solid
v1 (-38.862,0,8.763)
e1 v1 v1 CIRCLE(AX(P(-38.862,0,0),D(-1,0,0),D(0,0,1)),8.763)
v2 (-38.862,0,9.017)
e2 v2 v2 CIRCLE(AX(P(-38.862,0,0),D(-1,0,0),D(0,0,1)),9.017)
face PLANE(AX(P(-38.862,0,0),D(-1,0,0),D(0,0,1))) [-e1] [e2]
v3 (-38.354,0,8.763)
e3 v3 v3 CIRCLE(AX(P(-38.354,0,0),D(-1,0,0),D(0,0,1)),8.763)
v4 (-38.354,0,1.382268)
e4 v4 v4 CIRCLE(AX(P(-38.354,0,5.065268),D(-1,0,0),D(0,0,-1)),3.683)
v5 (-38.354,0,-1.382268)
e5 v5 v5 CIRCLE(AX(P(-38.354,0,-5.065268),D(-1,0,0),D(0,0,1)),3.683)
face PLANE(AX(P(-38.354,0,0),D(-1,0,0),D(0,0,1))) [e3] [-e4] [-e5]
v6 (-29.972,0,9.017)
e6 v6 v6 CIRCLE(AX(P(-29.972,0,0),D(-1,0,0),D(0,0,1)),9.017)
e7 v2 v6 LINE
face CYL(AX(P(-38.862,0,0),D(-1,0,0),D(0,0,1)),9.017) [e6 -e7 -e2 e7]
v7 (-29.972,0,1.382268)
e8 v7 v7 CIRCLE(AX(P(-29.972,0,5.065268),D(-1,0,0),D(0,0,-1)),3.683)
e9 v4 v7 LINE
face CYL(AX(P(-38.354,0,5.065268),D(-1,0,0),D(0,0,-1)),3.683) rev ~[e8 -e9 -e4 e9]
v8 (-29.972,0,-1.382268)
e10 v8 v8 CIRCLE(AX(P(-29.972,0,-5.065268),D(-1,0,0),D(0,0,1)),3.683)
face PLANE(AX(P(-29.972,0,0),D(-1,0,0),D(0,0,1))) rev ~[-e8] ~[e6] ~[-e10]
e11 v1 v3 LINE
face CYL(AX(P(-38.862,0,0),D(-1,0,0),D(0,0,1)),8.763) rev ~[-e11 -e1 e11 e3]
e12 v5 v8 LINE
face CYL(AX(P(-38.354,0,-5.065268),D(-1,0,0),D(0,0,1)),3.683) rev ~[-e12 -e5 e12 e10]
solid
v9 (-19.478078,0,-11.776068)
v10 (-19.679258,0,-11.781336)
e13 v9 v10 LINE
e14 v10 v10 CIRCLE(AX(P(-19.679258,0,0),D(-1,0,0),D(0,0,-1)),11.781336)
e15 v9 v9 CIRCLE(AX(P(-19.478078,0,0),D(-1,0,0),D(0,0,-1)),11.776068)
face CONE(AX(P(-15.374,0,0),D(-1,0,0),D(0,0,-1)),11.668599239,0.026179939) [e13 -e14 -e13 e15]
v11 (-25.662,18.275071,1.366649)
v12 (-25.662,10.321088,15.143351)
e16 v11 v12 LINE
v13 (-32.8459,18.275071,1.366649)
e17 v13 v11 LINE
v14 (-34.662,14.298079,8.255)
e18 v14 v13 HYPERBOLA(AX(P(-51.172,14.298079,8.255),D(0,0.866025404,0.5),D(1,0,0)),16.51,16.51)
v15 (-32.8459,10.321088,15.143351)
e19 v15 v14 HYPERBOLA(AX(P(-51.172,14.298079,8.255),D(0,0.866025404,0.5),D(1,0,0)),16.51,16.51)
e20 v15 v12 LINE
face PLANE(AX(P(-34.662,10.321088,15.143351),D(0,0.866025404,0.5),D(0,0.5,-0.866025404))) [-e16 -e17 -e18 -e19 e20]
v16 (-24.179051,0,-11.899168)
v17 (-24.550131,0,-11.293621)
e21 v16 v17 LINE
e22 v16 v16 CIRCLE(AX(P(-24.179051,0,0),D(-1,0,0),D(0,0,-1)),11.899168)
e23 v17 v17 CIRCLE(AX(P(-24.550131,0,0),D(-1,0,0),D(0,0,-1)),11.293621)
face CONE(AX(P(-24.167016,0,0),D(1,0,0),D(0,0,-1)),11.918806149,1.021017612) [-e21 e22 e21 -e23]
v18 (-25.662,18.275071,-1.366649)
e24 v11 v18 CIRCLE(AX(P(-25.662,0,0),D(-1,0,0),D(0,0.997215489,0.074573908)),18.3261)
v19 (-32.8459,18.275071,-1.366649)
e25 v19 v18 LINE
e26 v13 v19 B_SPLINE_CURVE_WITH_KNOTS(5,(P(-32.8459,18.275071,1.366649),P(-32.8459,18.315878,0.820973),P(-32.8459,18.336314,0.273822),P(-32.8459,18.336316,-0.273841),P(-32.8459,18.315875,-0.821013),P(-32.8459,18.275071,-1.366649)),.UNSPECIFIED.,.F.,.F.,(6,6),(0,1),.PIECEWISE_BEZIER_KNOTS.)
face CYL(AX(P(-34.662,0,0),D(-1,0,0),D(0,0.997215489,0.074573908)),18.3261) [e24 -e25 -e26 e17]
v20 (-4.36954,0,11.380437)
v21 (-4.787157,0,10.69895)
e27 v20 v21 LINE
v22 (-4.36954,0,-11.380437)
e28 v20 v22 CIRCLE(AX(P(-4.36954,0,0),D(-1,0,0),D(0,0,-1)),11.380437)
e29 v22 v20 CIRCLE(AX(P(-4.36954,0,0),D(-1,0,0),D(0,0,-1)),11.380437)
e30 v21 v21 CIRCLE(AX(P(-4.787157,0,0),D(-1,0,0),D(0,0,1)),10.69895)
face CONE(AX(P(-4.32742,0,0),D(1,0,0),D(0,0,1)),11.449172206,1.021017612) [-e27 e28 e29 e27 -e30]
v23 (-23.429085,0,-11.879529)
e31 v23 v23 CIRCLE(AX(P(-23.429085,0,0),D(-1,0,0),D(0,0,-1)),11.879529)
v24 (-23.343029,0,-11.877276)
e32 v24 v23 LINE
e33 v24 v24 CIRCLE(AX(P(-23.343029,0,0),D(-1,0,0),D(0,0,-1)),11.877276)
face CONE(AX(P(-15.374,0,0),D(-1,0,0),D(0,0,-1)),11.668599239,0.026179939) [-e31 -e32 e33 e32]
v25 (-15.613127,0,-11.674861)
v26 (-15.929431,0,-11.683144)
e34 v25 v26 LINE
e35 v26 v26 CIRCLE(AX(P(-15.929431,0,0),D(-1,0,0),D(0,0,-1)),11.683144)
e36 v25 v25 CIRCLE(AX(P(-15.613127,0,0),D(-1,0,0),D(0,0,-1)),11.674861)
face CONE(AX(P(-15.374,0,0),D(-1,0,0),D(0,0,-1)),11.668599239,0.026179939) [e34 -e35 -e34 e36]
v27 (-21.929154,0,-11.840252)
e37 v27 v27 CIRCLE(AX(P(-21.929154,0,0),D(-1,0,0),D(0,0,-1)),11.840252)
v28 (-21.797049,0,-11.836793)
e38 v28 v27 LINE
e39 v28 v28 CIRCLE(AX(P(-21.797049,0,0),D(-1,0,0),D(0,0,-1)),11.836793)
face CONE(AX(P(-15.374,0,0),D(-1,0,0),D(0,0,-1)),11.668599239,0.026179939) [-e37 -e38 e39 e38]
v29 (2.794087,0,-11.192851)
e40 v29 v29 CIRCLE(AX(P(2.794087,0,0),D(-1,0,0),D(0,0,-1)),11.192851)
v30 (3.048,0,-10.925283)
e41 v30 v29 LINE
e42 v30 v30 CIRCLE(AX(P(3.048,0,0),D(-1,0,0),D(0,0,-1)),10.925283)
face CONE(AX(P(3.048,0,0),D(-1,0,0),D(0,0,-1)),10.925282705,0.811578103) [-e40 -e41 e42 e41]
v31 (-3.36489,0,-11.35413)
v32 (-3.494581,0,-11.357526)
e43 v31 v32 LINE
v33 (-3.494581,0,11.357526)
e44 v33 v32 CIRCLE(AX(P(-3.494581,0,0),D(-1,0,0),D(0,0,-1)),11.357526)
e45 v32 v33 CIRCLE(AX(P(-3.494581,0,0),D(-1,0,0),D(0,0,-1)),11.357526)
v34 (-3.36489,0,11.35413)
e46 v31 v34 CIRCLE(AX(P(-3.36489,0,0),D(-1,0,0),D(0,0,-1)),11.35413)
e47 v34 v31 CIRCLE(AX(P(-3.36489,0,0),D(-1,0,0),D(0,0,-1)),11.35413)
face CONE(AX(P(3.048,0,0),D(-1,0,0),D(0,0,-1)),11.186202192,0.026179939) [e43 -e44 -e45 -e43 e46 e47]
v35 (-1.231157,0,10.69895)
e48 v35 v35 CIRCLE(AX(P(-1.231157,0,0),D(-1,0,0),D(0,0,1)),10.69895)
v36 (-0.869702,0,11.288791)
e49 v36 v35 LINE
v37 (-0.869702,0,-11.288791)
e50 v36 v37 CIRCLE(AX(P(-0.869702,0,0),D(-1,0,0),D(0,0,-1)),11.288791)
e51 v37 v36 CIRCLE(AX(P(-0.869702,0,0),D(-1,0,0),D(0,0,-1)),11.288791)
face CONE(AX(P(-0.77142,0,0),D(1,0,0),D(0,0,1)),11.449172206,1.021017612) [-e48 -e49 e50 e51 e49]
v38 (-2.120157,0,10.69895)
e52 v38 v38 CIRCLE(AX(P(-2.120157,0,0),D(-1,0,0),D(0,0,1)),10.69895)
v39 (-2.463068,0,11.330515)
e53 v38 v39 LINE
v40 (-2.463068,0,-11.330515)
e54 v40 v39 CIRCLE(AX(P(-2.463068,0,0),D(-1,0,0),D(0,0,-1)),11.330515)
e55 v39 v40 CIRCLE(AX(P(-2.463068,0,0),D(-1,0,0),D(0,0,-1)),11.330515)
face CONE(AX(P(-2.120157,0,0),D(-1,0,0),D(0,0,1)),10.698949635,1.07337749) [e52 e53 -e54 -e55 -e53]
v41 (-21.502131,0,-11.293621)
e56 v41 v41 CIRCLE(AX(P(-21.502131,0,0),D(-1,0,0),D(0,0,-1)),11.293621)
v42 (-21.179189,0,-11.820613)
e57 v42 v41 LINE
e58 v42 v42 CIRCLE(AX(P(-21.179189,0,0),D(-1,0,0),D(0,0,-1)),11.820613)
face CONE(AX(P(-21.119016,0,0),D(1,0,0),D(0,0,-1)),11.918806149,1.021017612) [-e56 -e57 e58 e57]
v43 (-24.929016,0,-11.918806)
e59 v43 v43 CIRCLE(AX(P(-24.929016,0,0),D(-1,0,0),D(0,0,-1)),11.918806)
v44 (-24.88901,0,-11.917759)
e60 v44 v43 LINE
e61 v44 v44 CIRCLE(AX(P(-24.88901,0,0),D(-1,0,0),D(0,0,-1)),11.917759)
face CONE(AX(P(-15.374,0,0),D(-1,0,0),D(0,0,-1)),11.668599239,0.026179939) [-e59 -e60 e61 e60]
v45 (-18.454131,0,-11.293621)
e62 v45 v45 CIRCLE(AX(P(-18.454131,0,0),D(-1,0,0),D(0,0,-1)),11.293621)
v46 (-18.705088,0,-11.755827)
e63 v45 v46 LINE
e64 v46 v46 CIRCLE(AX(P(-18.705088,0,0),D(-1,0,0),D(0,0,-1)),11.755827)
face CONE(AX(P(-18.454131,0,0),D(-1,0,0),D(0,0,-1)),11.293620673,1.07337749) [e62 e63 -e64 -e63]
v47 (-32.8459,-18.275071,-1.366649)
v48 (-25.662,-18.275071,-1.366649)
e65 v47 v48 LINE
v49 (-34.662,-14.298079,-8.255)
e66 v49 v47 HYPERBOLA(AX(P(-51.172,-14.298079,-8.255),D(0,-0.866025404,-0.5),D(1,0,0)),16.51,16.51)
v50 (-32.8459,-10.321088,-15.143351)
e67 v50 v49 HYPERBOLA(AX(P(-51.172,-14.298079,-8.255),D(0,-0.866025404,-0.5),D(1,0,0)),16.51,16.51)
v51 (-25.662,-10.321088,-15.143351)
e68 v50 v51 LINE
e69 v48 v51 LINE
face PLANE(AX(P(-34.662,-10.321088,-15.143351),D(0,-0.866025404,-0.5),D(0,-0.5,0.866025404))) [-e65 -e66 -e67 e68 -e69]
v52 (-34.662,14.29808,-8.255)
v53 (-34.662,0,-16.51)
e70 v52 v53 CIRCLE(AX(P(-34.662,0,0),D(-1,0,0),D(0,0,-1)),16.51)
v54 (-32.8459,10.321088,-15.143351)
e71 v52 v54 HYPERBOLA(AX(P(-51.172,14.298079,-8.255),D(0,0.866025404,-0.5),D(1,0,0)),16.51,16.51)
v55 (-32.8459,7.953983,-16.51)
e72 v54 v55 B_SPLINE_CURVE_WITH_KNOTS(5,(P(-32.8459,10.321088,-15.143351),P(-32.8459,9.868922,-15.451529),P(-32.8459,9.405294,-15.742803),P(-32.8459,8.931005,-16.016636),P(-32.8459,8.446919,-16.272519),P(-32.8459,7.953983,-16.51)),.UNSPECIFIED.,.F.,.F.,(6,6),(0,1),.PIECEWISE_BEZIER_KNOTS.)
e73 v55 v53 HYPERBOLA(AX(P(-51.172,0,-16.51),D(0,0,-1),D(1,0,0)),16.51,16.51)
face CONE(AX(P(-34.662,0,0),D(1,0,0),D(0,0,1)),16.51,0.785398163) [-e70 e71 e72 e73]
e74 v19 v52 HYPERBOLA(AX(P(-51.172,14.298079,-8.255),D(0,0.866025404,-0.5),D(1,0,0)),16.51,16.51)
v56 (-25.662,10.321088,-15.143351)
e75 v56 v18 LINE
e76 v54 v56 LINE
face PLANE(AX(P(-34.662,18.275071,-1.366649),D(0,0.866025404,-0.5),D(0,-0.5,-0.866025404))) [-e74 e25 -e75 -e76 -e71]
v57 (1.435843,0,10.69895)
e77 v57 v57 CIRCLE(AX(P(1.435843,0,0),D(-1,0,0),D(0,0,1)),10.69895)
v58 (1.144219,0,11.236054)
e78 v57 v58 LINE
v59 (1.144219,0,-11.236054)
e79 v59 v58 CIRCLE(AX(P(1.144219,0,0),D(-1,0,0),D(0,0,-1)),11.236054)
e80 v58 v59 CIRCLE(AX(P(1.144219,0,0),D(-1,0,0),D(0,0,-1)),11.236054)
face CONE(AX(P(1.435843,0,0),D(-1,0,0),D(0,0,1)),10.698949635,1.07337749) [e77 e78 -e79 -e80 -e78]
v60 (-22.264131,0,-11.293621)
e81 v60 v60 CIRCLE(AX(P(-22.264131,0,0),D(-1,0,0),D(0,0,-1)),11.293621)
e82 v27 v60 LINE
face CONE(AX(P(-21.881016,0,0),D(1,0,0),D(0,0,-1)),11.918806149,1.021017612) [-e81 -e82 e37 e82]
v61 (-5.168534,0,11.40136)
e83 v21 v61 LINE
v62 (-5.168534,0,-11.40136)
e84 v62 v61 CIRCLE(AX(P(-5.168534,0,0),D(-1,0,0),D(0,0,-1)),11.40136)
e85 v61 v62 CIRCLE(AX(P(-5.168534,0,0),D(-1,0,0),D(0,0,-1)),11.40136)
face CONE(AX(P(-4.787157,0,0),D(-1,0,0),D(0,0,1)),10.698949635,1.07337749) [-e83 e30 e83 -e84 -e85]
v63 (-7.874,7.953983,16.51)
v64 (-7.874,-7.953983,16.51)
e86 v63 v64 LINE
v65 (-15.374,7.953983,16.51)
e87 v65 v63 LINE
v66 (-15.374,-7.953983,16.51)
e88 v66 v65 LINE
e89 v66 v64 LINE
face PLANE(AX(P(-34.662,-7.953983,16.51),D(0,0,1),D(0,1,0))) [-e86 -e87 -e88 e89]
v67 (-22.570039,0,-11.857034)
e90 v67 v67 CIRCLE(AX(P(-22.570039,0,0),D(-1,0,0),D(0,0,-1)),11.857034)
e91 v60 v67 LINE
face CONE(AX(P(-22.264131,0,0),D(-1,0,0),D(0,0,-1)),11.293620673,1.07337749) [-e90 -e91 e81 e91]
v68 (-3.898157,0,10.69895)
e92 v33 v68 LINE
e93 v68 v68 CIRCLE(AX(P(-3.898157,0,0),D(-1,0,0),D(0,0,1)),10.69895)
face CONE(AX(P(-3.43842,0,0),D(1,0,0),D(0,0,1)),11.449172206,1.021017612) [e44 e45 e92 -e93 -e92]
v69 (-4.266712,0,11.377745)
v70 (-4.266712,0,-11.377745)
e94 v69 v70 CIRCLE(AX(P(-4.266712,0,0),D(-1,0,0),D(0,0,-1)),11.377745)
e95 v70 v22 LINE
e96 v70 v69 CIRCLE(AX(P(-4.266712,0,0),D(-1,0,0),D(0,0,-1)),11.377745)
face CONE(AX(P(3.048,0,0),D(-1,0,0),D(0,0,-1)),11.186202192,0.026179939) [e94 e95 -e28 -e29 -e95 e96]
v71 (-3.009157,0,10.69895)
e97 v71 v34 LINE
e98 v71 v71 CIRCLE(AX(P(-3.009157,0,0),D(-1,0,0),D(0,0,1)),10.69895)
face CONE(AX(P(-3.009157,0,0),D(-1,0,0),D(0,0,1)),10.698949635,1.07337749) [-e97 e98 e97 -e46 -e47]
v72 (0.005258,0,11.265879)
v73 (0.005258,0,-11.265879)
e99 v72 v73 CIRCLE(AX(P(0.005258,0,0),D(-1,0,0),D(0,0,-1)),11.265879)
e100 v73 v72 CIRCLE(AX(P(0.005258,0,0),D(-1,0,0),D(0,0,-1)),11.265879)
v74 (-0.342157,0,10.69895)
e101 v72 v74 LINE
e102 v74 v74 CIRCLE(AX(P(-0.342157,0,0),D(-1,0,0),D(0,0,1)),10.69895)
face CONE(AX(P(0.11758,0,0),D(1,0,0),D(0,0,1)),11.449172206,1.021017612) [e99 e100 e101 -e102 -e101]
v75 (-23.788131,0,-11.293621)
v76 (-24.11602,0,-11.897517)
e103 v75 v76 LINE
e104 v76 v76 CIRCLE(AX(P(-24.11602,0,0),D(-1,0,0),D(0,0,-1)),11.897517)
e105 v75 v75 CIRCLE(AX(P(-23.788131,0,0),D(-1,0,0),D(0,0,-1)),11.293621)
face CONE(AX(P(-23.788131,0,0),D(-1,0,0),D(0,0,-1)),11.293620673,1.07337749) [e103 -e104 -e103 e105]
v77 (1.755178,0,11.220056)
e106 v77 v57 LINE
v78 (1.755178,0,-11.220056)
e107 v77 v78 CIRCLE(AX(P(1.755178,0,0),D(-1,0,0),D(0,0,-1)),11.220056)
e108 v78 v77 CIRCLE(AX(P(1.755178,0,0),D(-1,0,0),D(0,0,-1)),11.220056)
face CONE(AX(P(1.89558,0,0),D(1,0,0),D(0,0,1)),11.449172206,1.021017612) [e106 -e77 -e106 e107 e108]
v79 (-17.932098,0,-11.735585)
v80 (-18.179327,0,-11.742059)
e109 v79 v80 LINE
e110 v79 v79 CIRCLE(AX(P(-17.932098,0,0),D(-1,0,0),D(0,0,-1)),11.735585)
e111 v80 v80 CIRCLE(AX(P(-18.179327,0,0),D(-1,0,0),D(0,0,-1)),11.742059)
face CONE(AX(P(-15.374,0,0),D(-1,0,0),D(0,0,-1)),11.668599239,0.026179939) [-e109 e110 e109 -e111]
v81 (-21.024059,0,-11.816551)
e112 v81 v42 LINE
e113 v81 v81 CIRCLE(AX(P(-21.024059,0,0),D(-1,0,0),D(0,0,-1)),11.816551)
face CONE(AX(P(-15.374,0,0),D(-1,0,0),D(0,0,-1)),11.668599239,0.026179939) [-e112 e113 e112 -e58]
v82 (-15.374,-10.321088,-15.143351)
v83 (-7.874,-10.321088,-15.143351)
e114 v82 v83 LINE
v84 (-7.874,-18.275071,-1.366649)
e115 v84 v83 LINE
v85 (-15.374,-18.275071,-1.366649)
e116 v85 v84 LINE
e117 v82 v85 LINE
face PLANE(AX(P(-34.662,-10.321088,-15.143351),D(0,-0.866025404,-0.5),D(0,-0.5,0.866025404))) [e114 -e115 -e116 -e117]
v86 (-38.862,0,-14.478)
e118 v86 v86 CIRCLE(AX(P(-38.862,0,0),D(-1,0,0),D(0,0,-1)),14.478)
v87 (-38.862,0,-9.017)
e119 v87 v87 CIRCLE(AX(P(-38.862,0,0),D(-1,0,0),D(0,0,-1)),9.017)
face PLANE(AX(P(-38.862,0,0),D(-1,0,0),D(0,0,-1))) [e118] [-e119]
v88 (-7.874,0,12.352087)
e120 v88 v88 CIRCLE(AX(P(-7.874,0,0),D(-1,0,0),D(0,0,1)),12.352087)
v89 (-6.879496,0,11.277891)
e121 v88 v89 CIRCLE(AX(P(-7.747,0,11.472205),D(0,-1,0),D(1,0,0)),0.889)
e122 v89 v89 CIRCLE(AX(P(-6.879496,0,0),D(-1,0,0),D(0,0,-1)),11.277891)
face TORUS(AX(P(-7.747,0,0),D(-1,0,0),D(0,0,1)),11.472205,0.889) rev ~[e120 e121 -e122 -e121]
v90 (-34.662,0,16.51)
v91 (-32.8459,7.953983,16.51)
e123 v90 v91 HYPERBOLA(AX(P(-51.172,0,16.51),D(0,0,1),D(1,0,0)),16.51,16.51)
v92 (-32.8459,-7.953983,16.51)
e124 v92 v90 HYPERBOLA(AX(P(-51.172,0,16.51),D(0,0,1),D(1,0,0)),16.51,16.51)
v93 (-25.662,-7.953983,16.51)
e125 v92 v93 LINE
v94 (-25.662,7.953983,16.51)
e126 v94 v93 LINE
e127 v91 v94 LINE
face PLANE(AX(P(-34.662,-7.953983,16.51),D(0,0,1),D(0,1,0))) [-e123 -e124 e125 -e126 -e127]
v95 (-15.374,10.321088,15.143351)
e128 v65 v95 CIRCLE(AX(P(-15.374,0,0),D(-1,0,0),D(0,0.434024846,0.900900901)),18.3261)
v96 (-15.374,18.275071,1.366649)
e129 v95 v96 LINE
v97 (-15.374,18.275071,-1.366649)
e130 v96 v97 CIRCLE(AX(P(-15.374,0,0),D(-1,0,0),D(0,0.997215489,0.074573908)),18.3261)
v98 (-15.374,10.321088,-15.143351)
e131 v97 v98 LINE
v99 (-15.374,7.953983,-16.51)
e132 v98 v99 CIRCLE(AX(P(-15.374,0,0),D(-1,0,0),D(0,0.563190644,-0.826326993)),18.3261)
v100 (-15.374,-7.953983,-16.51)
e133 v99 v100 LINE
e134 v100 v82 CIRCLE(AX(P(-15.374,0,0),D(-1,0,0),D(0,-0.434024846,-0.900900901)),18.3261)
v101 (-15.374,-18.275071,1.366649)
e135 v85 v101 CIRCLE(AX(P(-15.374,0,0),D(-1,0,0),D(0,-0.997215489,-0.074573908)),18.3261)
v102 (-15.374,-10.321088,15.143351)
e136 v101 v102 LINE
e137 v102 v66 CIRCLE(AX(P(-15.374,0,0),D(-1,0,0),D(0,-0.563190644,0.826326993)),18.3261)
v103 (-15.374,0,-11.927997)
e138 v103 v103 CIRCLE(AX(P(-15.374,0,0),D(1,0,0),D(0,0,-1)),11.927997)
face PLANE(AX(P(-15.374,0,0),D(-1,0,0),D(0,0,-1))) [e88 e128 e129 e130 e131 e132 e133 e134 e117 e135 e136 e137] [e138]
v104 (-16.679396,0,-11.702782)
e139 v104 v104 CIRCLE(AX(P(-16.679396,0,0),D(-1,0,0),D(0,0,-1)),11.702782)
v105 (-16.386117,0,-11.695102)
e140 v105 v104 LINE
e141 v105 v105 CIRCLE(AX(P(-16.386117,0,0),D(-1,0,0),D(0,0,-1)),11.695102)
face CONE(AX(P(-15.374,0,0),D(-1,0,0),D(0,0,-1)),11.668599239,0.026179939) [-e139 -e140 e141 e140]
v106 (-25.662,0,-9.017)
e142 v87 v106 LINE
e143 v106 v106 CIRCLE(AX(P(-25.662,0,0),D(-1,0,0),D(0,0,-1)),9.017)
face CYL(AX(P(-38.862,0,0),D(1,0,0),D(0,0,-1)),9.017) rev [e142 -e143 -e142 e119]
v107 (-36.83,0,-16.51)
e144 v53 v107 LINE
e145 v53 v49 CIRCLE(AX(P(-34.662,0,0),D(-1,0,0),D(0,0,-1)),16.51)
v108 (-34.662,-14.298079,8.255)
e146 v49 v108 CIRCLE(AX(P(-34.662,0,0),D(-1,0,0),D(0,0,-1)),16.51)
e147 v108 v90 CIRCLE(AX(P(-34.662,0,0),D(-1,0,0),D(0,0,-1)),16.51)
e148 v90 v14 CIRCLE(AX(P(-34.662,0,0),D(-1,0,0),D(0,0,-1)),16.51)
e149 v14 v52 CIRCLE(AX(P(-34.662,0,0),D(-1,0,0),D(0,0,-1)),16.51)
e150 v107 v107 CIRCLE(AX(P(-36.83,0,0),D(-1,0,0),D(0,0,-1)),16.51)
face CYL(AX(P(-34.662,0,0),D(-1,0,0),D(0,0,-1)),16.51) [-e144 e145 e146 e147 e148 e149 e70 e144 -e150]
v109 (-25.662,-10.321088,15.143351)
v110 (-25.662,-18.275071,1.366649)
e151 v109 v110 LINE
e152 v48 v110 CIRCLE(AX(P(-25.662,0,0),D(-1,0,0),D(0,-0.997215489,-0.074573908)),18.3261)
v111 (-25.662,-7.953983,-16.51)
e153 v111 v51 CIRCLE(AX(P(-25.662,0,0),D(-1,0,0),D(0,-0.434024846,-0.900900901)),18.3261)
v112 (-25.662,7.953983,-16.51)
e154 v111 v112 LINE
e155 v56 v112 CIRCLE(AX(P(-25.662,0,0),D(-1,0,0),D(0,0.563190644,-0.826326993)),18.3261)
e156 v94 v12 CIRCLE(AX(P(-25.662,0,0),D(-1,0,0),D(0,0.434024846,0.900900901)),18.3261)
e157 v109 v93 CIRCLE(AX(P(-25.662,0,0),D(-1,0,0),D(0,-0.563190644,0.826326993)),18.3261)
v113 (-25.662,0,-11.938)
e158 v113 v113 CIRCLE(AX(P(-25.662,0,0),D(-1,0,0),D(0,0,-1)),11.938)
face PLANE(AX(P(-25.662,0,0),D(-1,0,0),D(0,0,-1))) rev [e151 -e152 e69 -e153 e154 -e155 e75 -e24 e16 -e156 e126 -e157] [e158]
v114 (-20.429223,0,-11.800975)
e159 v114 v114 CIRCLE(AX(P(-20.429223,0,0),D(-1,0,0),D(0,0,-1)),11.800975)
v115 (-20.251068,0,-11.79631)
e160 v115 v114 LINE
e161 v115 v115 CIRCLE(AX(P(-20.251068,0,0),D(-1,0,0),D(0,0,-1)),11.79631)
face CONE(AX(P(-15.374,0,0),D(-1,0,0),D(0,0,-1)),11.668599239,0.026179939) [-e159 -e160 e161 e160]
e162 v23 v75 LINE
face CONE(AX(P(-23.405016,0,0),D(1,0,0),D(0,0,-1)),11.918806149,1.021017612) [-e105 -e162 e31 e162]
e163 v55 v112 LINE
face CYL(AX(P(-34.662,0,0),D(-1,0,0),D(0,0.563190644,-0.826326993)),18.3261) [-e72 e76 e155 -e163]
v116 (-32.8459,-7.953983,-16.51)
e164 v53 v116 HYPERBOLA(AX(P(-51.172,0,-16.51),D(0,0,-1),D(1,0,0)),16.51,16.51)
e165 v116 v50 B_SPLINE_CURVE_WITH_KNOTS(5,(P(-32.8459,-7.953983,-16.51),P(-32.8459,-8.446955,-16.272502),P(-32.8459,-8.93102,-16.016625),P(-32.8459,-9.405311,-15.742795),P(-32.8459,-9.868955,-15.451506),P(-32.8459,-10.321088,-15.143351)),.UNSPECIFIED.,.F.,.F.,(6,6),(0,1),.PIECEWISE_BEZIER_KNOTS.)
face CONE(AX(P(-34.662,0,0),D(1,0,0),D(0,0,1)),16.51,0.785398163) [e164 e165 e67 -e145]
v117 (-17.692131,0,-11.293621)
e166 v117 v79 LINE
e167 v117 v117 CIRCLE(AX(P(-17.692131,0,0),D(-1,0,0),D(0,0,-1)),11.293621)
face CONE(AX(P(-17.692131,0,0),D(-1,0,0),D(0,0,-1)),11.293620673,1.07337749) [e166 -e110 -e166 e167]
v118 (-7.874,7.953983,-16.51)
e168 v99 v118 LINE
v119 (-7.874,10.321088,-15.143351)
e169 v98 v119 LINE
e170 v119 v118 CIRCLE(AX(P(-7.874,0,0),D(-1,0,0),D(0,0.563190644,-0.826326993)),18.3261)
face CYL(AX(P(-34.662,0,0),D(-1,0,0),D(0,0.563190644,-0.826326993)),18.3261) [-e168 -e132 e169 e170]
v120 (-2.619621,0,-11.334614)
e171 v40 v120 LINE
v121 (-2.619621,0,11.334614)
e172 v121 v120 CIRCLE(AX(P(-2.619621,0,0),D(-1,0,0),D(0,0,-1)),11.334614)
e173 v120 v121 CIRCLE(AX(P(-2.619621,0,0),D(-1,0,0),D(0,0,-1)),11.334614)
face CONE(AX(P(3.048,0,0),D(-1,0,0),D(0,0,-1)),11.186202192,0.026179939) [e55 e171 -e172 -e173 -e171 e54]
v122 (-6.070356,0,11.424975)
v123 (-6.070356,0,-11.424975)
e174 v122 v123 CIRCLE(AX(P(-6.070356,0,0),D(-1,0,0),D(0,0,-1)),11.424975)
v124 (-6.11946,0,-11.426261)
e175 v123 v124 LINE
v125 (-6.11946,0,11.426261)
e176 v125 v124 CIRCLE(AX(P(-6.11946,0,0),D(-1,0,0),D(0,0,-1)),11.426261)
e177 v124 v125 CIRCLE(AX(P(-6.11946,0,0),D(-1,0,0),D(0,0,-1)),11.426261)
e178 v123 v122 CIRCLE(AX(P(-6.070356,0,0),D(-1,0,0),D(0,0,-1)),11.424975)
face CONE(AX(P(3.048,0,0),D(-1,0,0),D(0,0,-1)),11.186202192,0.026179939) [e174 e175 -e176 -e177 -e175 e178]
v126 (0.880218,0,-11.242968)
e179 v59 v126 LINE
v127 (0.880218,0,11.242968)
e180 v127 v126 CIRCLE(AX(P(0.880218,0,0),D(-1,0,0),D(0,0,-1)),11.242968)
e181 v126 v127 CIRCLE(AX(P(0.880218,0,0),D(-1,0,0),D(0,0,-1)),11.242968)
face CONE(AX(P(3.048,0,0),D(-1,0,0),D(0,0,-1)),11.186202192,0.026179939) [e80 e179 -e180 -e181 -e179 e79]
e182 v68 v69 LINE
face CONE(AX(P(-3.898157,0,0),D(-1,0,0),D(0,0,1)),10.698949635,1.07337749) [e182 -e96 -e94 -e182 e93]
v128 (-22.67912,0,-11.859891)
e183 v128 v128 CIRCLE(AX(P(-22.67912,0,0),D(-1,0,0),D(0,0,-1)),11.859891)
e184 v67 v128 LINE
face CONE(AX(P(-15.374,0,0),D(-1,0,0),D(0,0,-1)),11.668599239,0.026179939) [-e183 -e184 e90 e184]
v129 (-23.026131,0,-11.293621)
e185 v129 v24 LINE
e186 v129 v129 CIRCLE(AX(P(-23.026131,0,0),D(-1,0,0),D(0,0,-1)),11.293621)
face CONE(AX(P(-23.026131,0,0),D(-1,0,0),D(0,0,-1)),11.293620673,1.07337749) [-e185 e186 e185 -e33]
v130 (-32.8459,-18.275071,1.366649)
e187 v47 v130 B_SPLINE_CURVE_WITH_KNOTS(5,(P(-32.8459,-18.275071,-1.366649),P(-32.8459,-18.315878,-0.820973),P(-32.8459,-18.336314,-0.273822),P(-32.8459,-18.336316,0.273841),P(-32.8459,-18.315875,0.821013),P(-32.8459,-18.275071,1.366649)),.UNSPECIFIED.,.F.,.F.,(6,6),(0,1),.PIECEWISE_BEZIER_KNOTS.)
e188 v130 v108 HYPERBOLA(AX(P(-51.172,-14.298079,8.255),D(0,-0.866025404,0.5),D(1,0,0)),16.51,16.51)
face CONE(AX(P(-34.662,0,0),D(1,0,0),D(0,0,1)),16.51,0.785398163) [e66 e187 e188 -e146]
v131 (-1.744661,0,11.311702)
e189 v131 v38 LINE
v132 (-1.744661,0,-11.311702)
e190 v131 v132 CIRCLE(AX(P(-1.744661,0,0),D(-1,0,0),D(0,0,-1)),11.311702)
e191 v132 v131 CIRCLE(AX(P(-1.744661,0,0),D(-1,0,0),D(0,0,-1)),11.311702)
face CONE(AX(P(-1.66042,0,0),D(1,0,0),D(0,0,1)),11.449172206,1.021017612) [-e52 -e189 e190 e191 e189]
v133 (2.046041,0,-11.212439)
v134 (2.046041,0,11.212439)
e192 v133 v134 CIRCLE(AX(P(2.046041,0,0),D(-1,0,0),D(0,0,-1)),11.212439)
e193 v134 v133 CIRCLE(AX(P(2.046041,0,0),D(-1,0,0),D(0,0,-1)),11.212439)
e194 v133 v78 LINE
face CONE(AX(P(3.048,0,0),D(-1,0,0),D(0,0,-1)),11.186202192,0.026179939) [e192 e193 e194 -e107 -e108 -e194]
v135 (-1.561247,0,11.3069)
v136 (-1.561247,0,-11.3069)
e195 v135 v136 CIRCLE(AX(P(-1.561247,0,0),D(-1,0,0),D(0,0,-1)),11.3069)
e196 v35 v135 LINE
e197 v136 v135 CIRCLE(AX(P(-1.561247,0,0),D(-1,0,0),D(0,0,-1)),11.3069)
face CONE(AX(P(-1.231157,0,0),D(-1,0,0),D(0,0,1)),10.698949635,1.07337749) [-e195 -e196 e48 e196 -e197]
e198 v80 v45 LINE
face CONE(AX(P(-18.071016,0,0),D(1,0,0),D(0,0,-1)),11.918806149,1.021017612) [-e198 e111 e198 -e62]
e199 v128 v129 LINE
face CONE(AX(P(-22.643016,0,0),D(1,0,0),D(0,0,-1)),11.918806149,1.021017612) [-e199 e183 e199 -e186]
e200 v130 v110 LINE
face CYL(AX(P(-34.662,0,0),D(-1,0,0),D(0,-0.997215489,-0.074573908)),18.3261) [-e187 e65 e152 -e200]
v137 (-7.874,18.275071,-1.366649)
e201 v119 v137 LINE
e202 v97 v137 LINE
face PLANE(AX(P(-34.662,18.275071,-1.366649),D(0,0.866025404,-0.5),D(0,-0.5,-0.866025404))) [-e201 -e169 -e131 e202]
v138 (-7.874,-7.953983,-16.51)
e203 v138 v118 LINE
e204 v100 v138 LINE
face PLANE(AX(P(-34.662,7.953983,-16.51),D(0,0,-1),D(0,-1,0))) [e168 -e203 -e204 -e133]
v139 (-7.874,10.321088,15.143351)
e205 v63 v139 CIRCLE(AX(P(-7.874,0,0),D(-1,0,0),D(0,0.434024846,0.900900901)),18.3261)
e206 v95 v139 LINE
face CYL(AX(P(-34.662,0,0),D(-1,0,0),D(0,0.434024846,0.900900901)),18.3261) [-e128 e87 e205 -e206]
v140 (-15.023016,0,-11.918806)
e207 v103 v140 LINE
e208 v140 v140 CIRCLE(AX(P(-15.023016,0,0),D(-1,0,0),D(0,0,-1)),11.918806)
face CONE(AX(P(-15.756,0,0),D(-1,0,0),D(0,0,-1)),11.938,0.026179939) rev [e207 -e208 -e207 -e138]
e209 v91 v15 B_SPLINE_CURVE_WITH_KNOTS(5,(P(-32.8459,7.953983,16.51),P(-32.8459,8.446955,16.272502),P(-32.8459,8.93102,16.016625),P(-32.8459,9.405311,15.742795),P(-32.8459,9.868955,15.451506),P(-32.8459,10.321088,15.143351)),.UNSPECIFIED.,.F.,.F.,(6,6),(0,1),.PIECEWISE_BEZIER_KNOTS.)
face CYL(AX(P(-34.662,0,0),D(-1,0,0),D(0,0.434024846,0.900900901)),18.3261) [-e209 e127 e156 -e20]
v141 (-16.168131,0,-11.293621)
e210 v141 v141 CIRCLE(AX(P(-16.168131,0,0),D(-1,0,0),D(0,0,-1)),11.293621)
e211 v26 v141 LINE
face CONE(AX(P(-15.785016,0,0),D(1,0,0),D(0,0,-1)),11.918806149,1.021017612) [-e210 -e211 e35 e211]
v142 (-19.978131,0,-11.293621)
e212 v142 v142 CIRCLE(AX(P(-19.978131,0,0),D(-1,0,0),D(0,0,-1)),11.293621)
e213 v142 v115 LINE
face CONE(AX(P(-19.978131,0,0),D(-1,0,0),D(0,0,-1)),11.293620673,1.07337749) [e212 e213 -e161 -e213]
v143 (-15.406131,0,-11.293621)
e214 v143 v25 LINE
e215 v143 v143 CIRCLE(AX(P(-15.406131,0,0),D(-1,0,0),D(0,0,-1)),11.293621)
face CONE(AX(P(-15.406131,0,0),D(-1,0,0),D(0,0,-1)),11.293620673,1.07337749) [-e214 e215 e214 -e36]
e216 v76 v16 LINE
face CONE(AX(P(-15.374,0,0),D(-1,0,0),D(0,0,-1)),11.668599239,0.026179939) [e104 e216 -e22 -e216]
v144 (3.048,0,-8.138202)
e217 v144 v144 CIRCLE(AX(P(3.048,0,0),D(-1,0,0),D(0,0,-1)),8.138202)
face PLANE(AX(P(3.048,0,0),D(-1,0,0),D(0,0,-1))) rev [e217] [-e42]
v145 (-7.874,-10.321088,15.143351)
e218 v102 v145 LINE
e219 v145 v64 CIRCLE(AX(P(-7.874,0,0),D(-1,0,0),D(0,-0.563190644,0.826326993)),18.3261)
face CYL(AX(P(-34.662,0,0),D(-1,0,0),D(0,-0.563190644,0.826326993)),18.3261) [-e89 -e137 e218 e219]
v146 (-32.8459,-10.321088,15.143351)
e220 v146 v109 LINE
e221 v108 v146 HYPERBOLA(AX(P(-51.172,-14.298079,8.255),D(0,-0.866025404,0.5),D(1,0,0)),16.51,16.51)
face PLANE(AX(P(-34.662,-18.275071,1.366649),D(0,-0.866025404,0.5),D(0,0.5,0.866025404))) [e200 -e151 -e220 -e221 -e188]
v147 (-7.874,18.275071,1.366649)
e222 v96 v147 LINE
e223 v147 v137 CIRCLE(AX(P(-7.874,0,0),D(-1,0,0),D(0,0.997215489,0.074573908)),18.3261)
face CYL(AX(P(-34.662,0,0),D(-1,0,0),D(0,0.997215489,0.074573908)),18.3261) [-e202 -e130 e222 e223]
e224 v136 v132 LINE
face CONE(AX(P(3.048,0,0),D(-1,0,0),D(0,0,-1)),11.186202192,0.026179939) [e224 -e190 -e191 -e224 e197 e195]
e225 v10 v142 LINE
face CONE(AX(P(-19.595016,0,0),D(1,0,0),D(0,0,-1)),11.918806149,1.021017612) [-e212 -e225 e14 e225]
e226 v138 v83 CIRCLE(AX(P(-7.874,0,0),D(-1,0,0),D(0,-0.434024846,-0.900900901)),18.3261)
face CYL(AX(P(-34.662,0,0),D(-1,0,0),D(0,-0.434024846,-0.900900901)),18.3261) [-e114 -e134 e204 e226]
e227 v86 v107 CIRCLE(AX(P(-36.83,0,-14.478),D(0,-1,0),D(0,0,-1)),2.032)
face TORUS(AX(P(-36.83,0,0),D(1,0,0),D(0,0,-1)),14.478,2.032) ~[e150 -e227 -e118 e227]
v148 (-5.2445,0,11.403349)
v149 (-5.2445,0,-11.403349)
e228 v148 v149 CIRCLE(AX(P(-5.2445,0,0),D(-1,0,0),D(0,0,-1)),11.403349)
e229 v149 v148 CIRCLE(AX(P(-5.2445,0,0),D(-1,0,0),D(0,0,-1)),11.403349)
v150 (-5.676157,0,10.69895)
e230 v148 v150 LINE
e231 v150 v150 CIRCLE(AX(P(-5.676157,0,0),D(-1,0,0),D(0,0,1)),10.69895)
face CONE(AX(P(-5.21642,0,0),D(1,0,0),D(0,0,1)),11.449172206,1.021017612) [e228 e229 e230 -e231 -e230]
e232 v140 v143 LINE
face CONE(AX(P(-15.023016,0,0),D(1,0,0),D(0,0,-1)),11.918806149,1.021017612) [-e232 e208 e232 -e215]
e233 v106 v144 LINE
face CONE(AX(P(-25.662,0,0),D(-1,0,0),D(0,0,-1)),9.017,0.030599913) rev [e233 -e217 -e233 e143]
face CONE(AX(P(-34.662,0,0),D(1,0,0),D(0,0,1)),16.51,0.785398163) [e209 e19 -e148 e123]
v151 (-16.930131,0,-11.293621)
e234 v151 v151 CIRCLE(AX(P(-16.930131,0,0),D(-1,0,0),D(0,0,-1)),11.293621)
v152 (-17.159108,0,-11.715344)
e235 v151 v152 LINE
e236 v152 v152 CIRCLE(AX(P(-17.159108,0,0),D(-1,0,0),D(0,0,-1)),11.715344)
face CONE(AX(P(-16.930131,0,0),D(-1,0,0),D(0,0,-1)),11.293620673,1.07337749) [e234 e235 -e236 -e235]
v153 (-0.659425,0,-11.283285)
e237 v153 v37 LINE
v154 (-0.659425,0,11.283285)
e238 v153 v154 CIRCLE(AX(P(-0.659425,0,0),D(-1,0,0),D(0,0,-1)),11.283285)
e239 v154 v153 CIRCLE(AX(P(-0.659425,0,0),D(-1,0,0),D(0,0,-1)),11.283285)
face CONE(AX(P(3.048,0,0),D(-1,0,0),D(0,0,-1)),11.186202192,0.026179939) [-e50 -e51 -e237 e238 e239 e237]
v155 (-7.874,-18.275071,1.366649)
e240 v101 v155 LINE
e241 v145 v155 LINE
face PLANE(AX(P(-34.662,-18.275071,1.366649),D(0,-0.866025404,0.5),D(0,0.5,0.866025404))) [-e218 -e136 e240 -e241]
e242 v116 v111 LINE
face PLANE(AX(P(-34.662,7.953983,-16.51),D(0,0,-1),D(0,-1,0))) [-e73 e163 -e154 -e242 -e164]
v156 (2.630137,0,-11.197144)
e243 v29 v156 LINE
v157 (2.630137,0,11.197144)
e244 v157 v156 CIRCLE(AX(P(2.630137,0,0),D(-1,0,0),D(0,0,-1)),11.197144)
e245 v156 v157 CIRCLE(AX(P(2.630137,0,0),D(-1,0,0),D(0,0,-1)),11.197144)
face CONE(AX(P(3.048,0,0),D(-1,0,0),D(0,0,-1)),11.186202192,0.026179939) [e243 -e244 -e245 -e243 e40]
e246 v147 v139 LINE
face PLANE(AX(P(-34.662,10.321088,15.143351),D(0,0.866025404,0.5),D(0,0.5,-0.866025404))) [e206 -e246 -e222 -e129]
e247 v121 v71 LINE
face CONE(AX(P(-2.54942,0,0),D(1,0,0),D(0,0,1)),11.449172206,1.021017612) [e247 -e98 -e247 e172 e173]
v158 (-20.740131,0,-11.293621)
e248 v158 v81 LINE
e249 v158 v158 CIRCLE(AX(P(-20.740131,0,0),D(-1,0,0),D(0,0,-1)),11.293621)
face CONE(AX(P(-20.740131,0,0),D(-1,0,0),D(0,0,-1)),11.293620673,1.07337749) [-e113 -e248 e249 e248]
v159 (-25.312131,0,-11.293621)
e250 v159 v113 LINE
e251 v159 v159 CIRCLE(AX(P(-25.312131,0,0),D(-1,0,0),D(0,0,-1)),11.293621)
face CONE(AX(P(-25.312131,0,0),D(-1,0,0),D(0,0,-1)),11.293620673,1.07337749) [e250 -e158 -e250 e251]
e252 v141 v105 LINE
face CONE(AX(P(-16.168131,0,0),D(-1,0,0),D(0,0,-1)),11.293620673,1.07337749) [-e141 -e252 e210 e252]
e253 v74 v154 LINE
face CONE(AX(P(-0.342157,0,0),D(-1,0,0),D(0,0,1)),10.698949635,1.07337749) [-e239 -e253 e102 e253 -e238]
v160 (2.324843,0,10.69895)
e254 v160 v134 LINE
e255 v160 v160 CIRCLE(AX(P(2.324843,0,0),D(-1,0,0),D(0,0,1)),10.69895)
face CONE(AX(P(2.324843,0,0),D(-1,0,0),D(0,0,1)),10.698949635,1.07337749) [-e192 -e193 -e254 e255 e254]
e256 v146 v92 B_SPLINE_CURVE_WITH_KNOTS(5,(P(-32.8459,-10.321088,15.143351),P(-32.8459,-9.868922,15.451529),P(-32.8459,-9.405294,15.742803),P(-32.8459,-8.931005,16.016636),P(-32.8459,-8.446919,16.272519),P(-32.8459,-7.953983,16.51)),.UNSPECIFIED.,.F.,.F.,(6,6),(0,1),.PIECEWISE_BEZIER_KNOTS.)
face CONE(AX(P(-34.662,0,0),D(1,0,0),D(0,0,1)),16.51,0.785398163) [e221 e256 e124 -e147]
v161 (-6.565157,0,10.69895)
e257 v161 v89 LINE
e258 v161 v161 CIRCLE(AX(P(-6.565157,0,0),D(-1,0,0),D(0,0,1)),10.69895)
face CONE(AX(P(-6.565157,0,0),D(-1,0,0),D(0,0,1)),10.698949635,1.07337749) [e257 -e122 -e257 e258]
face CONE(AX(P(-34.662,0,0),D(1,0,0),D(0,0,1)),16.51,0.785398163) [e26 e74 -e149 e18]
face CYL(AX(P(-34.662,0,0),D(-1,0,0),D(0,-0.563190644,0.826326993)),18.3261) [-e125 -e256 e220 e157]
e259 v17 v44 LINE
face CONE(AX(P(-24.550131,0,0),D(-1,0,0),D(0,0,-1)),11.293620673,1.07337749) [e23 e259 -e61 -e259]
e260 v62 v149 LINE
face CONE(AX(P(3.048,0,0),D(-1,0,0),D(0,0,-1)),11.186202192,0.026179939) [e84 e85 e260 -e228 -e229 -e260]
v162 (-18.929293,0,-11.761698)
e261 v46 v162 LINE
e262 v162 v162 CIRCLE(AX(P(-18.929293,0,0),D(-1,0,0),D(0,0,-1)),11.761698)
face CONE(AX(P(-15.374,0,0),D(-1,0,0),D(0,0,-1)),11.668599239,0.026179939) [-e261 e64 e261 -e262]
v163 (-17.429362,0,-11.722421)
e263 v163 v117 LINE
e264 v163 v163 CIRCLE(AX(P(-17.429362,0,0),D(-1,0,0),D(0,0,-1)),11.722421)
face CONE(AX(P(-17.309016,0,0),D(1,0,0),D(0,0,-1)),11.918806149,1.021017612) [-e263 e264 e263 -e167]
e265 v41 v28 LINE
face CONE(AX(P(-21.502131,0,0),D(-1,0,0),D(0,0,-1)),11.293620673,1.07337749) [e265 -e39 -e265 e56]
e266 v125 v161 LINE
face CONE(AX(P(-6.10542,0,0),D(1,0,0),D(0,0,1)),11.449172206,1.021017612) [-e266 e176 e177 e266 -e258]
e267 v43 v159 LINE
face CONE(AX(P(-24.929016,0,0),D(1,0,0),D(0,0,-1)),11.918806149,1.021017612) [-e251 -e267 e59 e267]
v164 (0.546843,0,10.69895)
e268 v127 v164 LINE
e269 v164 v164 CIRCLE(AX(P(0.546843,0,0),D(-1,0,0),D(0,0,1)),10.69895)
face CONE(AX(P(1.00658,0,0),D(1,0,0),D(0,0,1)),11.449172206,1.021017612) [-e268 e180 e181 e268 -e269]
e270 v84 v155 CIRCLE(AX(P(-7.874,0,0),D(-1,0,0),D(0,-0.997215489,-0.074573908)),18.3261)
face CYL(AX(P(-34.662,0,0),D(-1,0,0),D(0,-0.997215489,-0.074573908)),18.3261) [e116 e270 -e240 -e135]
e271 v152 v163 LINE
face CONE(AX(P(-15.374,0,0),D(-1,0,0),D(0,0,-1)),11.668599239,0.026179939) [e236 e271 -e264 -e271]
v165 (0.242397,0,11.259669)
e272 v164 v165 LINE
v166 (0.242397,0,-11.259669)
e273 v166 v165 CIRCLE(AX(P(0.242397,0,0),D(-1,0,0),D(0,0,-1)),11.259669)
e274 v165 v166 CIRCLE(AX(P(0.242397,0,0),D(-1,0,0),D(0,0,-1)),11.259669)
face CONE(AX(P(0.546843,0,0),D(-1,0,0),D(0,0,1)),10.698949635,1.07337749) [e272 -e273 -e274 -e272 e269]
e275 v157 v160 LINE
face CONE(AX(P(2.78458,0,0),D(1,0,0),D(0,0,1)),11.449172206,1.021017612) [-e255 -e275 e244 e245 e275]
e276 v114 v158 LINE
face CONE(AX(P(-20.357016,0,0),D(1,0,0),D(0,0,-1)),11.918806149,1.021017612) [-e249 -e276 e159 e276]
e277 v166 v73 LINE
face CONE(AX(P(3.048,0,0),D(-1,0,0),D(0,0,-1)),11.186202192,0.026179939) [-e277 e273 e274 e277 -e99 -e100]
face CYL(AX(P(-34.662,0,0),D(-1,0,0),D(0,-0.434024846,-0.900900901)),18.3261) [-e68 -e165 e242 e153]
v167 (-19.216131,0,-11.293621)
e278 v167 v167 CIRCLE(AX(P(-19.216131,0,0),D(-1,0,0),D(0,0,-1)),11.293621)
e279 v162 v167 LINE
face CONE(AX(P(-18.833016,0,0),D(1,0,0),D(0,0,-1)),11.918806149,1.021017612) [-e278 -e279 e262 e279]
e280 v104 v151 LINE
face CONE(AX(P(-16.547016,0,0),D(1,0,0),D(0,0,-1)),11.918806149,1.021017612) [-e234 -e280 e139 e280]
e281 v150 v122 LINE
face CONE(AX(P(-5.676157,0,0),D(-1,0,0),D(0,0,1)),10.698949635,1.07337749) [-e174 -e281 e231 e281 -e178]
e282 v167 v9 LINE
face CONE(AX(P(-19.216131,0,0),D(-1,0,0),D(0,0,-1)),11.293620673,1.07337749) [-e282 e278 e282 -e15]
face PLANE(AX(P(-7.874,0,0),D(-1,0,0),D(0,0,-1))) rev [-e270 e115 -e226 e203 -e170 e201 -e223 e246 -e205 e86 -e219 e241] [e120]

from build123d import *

# Parameters (mm, degrees)
SKETCH12_OUTSIDE_W = 88.514
SKETCH12_OUTSIDE_H = 88.514
CUT_EXTRUDE2_DEPTH = 38.71
FILLET4_R          = 2.032
SKETCH19_OUTSIDE_W = 55.962
SKETCH19_OUTSIDE_H = 59.594
SKETCH19_OUTSIDE_R = 16.51
CUT_EXTRUDE3_DEPTH = 3.99796
CUT_EXTRUDE3_DRAFT = -45
CHAMFER1_SIZE      = 0.260919487
CHAMFER1_SIZE2     = 0.254
SKETCH21_R         = 9.017
PLUG_DEPTH         = 8.89
SKETCH22_R         = 8.763
CUT_EXTRUDE4_DEPTH = 0.508
SKETCH27_R         = 3.683
PLUGHOLES_DEPTH    = 42.402
CIRPATTERN1_COUNT  = 2
LPATTERN1_COUNT    = 14
LPATTERN1_PITCH    = 0.762
LPATTERN2_COUNT    = 12
LPATTERN2_PITCH    = 0.889
SKETCH32_R         = 0.889


with BuildPart() as part:
    # Sketch10 → Revolve2 (revolve)
    with BuildSketch(Plane.XY, mode=Mode.PRIVATE) as revolve2_sk:
        Polygon((-38.862, 9.017), (-25.662, 9.017), (3.048, 8.138202192), (3.048, 11.186202192), (-7.874, 11.472204827), (-7.874, 33.02), (-15.374, 33.02), (-15.374, 11.668599239), (-25.662, 11.938), (-25.662, 33.02), (-34.662, 33.02), (-34.662, 16.51), (-38.862, 16.51), align=None)
    revolve(revolve2_sk.sketch.rotate(Axis((0, 0, 0), (-1, 0, 0)), 90), axis=Axis((0, 0, 0), (-1, 0, 0)))  # turned: the seam where the file's is

    # Sketch12 outside → Cut-Extrude2 (cut, through all)
    with BuildSketch(Plane.ZY.offset(34.662)):
        Rectangle(SKETCH12_OUTSIDE_W, SKETCH12_OUTSIDE_H)
        with BuildLine():
            Line((-1.366648898, 18.27507078), (-15.143351102, 10.321088053))
            ThreePointArc((-15.143351102, 10.321088053), (-15.870868152, 9.16305), (-16.51, 7.953982726))
            Line((-16.51, 7.953982726), (-16.51, -7.953982726))
            ThreePointArc((-16.51, -7.953982726), (-15.870868152, -9.16305), (-15.143351102, -10.321088053))
            Line((-15.143351102, -10.321088053), (-1.366648898, -18.27507078))
            ThreePointArc((-1.366648898, -18.27507078), (0, -18.3261), (1.366648898, -18.27507078))
            Line((1.366648898, -18.27507078), (15.143351102, -10.321088053))
            ThreePointArc((15.143351102, -10.321088053), (15.870868152, -9.16305), (16.51, -7.953982726))
            Line((16.51, -7.953982726), (16.51, 7.953982726))
            ThreePointArc((16.51, 7.953982726), (15.870868152, 9.16305), (15.143351102, 10.321088053))
            Line((15.143351102, 10.321088053), (1.366648898, 18.27507078))
            ThreePointArc((1.366648898, 18.27507078), (0, 18.3261), (-1.366648898, 18.27507078))
        make_face(mode=Mode.SUBTRACT)
    extrude(amount=-CUT_EXTRUDE2_DEPTH, mode=Mode.SUBTRACT)

    # Fillet4
    fillet4_edges = [part.edges().sort_by_distance(p)[0] for p in [
        (-38.862, 0, 16.51),
    ]]
    fillet(fillet4_edges, radius=FILLET4_R)


with BuildPart() as cut_extrude3_tool:
    # Sketch19 outside → Cut-Extrude3 (with draft: the straight prism first)
    with BuildSketch(Plane.ZY.offset(34.662)):
        Rectangle(SKETCH19_OUTSIDE_W, SKETCH19_OUTSIDE_H)
        Circle(SKETCH19_OUTSIDE_R, mode=Mode.SUBTRACT)
    extrude(amount=-CUT_EXTRUDE3_DEPTH)
    # Cut-Extrude3: the draft: its side faces are tilted about the plane it starts from
    cut_extrude3_sides = [cut_extrude3_tool.faces().sort_by_distance(p)[0] for p in [
        (-32.66302, -29.797, 0),
        (-32.66302, 0, 27.981),
        (-32.66302, 29.797, 0),
        (-32.66302, 0, -27.981),
        (-32.66302, 0, -16.51),
    ]]
    draft(cut_extrude3_sides, Plane.ZY.offset(34.662), CUT_EXTRUDE3_DRAFT)


with BuildPart() as part_1:
    add(part.part)

    # Cut-Extrude3: cut by cut_extrude3_tool
    add(cut_extrude3_tool.part, mode=Mode.SUBTRACT)

    # Chamfer1
    chamfer1_edges = [part_1.edges().sort_by_distance(p)[0] for p in [
        (3.048, 0, 11.186202192),
    ]]
    chamfer1_side = [part_1.faces().sort_by_distance(p)[0] for p in [
        (3.048, 0, 8.454595769),
    ]]
    chamfer(chamfer1_edges, length=CHAMFER1_SIZE, length2=CHAMFER1_SIZE2, reference=chamfer1_side[0])

    # Sketch29 → Cut-Revolve1 (revolve, cut)
    with BuildSketch(Plane.XY, mode=Mode.PRIVATE) as cut_revolve1_sk:
        Polygon((-25.662, 11.938), (-24.929016419, 11.918806149), (-25.312130572, 11.293620673), align=None)
    cut_revolve1 = revolve(cut_revolve1_sk.sketch.rotate(Axis((0, 0, 0), (-1, 0, 0)), 90), axis=Axis((0, 0, 0), (-1, 0, 0)), mode=Mode.SUBTRACT)  # turned: the seam where the file's is

    # LPattern1: Cut-Revolve1 ×14
    with Locations(*[(i * LPATTERN1_PITCH, 0, 0) for i in range(1, LPATTERN1_COUNT)]):
        add(cut_revolve1, mode=Mode.SUBTRACT)

    # Sketch30 → Cut-Revolve2 (revolve, cut)
    with BuildSketch(Plane.XY, mode=Mode.PRIVATE) as cut_revolve2_sk:
        Polygon((-7.874, 11.472204827), (-6.994419703, 11.449172206), (-7.454156686, 10.698949635), align=None)
    cut_revolve2 = revolve(cut_revolve2_sk.sketch.rotate(Axis((0, 0, 0), (-1, 0, 0)), 270), axis=Axis((0, 0, 0), (-1, 0, 0)), mode=Mode.SUBTRACT)  # turned: the seam where the file's is

    # LPattern2: Cut-Revolve2 ×12
    with Locations(*[(i * LPATTERN2_PITCH, 0, 0) for i in range(1, LPATTERN2_COUNT)]):
        add(cut_revolve2, mode=Mode.SUBTRACT)

    # Sketch32 → Cut-Revolve3 (revolve, cut)
    with BuildSketch(Plane.XY, mode=Mode.PRIVATE) as cut_revolve3_sk:
        with Locations((-7.747, 11.472204827)):
            Circle(SKETCH32_R)
    revolve(cut_revolve3_sk.sketch.rotate(Axis((0, 0, 0), (-1, 0, 0)), 270), axis=Axis((0, 0, 0), (-1, 0, 0)), mode=Mode.SUBTRACT)  # turned: the seam where the file's is


with BuildPart() as body_2:
    # Sketch21 → plug (new body)
    with BuildSketch(Plane.ZY.offset(38.862)):
        Circle(SKETCH21_R)
    extrude(amount=-PLUG_DEPTH)

    # Sketch22 → Cut-Extrude4 (cut)
    with BuildSketch(Plane.ZY.offset(38.862)):
        Circle(SKETCH22_R)
    extrude(amount=-CUT_EXTRUDE4_DEPTH, mode=Mode.SUBTRACT)

    # Sketch27 → plugholes (cut, through all)
    with BuildSketch(Plane.ZY.offset(38.354)):
        with Locations((-5.065268, 0)):
            Circle(SKETCH27_R)
    plugholes = extrude(amount=-PLUGHOLES_DEPTH, mode=Mode.SUBTRACT)

    # CirPattern1: plugholes ×2 about axis
    cirpattern1_axis = Axis((0, 0, 0), (1, 0, 0))
    for i in range(1, CIRPATTERN1_COUNT):
        add(plugholes.rotate(cirpattern1_axis, i * 360 / CIRPATTERN1_COUNT), mode=Mode.SUBTRACT)


solid = Compound([part_1.part, body_2.part])
